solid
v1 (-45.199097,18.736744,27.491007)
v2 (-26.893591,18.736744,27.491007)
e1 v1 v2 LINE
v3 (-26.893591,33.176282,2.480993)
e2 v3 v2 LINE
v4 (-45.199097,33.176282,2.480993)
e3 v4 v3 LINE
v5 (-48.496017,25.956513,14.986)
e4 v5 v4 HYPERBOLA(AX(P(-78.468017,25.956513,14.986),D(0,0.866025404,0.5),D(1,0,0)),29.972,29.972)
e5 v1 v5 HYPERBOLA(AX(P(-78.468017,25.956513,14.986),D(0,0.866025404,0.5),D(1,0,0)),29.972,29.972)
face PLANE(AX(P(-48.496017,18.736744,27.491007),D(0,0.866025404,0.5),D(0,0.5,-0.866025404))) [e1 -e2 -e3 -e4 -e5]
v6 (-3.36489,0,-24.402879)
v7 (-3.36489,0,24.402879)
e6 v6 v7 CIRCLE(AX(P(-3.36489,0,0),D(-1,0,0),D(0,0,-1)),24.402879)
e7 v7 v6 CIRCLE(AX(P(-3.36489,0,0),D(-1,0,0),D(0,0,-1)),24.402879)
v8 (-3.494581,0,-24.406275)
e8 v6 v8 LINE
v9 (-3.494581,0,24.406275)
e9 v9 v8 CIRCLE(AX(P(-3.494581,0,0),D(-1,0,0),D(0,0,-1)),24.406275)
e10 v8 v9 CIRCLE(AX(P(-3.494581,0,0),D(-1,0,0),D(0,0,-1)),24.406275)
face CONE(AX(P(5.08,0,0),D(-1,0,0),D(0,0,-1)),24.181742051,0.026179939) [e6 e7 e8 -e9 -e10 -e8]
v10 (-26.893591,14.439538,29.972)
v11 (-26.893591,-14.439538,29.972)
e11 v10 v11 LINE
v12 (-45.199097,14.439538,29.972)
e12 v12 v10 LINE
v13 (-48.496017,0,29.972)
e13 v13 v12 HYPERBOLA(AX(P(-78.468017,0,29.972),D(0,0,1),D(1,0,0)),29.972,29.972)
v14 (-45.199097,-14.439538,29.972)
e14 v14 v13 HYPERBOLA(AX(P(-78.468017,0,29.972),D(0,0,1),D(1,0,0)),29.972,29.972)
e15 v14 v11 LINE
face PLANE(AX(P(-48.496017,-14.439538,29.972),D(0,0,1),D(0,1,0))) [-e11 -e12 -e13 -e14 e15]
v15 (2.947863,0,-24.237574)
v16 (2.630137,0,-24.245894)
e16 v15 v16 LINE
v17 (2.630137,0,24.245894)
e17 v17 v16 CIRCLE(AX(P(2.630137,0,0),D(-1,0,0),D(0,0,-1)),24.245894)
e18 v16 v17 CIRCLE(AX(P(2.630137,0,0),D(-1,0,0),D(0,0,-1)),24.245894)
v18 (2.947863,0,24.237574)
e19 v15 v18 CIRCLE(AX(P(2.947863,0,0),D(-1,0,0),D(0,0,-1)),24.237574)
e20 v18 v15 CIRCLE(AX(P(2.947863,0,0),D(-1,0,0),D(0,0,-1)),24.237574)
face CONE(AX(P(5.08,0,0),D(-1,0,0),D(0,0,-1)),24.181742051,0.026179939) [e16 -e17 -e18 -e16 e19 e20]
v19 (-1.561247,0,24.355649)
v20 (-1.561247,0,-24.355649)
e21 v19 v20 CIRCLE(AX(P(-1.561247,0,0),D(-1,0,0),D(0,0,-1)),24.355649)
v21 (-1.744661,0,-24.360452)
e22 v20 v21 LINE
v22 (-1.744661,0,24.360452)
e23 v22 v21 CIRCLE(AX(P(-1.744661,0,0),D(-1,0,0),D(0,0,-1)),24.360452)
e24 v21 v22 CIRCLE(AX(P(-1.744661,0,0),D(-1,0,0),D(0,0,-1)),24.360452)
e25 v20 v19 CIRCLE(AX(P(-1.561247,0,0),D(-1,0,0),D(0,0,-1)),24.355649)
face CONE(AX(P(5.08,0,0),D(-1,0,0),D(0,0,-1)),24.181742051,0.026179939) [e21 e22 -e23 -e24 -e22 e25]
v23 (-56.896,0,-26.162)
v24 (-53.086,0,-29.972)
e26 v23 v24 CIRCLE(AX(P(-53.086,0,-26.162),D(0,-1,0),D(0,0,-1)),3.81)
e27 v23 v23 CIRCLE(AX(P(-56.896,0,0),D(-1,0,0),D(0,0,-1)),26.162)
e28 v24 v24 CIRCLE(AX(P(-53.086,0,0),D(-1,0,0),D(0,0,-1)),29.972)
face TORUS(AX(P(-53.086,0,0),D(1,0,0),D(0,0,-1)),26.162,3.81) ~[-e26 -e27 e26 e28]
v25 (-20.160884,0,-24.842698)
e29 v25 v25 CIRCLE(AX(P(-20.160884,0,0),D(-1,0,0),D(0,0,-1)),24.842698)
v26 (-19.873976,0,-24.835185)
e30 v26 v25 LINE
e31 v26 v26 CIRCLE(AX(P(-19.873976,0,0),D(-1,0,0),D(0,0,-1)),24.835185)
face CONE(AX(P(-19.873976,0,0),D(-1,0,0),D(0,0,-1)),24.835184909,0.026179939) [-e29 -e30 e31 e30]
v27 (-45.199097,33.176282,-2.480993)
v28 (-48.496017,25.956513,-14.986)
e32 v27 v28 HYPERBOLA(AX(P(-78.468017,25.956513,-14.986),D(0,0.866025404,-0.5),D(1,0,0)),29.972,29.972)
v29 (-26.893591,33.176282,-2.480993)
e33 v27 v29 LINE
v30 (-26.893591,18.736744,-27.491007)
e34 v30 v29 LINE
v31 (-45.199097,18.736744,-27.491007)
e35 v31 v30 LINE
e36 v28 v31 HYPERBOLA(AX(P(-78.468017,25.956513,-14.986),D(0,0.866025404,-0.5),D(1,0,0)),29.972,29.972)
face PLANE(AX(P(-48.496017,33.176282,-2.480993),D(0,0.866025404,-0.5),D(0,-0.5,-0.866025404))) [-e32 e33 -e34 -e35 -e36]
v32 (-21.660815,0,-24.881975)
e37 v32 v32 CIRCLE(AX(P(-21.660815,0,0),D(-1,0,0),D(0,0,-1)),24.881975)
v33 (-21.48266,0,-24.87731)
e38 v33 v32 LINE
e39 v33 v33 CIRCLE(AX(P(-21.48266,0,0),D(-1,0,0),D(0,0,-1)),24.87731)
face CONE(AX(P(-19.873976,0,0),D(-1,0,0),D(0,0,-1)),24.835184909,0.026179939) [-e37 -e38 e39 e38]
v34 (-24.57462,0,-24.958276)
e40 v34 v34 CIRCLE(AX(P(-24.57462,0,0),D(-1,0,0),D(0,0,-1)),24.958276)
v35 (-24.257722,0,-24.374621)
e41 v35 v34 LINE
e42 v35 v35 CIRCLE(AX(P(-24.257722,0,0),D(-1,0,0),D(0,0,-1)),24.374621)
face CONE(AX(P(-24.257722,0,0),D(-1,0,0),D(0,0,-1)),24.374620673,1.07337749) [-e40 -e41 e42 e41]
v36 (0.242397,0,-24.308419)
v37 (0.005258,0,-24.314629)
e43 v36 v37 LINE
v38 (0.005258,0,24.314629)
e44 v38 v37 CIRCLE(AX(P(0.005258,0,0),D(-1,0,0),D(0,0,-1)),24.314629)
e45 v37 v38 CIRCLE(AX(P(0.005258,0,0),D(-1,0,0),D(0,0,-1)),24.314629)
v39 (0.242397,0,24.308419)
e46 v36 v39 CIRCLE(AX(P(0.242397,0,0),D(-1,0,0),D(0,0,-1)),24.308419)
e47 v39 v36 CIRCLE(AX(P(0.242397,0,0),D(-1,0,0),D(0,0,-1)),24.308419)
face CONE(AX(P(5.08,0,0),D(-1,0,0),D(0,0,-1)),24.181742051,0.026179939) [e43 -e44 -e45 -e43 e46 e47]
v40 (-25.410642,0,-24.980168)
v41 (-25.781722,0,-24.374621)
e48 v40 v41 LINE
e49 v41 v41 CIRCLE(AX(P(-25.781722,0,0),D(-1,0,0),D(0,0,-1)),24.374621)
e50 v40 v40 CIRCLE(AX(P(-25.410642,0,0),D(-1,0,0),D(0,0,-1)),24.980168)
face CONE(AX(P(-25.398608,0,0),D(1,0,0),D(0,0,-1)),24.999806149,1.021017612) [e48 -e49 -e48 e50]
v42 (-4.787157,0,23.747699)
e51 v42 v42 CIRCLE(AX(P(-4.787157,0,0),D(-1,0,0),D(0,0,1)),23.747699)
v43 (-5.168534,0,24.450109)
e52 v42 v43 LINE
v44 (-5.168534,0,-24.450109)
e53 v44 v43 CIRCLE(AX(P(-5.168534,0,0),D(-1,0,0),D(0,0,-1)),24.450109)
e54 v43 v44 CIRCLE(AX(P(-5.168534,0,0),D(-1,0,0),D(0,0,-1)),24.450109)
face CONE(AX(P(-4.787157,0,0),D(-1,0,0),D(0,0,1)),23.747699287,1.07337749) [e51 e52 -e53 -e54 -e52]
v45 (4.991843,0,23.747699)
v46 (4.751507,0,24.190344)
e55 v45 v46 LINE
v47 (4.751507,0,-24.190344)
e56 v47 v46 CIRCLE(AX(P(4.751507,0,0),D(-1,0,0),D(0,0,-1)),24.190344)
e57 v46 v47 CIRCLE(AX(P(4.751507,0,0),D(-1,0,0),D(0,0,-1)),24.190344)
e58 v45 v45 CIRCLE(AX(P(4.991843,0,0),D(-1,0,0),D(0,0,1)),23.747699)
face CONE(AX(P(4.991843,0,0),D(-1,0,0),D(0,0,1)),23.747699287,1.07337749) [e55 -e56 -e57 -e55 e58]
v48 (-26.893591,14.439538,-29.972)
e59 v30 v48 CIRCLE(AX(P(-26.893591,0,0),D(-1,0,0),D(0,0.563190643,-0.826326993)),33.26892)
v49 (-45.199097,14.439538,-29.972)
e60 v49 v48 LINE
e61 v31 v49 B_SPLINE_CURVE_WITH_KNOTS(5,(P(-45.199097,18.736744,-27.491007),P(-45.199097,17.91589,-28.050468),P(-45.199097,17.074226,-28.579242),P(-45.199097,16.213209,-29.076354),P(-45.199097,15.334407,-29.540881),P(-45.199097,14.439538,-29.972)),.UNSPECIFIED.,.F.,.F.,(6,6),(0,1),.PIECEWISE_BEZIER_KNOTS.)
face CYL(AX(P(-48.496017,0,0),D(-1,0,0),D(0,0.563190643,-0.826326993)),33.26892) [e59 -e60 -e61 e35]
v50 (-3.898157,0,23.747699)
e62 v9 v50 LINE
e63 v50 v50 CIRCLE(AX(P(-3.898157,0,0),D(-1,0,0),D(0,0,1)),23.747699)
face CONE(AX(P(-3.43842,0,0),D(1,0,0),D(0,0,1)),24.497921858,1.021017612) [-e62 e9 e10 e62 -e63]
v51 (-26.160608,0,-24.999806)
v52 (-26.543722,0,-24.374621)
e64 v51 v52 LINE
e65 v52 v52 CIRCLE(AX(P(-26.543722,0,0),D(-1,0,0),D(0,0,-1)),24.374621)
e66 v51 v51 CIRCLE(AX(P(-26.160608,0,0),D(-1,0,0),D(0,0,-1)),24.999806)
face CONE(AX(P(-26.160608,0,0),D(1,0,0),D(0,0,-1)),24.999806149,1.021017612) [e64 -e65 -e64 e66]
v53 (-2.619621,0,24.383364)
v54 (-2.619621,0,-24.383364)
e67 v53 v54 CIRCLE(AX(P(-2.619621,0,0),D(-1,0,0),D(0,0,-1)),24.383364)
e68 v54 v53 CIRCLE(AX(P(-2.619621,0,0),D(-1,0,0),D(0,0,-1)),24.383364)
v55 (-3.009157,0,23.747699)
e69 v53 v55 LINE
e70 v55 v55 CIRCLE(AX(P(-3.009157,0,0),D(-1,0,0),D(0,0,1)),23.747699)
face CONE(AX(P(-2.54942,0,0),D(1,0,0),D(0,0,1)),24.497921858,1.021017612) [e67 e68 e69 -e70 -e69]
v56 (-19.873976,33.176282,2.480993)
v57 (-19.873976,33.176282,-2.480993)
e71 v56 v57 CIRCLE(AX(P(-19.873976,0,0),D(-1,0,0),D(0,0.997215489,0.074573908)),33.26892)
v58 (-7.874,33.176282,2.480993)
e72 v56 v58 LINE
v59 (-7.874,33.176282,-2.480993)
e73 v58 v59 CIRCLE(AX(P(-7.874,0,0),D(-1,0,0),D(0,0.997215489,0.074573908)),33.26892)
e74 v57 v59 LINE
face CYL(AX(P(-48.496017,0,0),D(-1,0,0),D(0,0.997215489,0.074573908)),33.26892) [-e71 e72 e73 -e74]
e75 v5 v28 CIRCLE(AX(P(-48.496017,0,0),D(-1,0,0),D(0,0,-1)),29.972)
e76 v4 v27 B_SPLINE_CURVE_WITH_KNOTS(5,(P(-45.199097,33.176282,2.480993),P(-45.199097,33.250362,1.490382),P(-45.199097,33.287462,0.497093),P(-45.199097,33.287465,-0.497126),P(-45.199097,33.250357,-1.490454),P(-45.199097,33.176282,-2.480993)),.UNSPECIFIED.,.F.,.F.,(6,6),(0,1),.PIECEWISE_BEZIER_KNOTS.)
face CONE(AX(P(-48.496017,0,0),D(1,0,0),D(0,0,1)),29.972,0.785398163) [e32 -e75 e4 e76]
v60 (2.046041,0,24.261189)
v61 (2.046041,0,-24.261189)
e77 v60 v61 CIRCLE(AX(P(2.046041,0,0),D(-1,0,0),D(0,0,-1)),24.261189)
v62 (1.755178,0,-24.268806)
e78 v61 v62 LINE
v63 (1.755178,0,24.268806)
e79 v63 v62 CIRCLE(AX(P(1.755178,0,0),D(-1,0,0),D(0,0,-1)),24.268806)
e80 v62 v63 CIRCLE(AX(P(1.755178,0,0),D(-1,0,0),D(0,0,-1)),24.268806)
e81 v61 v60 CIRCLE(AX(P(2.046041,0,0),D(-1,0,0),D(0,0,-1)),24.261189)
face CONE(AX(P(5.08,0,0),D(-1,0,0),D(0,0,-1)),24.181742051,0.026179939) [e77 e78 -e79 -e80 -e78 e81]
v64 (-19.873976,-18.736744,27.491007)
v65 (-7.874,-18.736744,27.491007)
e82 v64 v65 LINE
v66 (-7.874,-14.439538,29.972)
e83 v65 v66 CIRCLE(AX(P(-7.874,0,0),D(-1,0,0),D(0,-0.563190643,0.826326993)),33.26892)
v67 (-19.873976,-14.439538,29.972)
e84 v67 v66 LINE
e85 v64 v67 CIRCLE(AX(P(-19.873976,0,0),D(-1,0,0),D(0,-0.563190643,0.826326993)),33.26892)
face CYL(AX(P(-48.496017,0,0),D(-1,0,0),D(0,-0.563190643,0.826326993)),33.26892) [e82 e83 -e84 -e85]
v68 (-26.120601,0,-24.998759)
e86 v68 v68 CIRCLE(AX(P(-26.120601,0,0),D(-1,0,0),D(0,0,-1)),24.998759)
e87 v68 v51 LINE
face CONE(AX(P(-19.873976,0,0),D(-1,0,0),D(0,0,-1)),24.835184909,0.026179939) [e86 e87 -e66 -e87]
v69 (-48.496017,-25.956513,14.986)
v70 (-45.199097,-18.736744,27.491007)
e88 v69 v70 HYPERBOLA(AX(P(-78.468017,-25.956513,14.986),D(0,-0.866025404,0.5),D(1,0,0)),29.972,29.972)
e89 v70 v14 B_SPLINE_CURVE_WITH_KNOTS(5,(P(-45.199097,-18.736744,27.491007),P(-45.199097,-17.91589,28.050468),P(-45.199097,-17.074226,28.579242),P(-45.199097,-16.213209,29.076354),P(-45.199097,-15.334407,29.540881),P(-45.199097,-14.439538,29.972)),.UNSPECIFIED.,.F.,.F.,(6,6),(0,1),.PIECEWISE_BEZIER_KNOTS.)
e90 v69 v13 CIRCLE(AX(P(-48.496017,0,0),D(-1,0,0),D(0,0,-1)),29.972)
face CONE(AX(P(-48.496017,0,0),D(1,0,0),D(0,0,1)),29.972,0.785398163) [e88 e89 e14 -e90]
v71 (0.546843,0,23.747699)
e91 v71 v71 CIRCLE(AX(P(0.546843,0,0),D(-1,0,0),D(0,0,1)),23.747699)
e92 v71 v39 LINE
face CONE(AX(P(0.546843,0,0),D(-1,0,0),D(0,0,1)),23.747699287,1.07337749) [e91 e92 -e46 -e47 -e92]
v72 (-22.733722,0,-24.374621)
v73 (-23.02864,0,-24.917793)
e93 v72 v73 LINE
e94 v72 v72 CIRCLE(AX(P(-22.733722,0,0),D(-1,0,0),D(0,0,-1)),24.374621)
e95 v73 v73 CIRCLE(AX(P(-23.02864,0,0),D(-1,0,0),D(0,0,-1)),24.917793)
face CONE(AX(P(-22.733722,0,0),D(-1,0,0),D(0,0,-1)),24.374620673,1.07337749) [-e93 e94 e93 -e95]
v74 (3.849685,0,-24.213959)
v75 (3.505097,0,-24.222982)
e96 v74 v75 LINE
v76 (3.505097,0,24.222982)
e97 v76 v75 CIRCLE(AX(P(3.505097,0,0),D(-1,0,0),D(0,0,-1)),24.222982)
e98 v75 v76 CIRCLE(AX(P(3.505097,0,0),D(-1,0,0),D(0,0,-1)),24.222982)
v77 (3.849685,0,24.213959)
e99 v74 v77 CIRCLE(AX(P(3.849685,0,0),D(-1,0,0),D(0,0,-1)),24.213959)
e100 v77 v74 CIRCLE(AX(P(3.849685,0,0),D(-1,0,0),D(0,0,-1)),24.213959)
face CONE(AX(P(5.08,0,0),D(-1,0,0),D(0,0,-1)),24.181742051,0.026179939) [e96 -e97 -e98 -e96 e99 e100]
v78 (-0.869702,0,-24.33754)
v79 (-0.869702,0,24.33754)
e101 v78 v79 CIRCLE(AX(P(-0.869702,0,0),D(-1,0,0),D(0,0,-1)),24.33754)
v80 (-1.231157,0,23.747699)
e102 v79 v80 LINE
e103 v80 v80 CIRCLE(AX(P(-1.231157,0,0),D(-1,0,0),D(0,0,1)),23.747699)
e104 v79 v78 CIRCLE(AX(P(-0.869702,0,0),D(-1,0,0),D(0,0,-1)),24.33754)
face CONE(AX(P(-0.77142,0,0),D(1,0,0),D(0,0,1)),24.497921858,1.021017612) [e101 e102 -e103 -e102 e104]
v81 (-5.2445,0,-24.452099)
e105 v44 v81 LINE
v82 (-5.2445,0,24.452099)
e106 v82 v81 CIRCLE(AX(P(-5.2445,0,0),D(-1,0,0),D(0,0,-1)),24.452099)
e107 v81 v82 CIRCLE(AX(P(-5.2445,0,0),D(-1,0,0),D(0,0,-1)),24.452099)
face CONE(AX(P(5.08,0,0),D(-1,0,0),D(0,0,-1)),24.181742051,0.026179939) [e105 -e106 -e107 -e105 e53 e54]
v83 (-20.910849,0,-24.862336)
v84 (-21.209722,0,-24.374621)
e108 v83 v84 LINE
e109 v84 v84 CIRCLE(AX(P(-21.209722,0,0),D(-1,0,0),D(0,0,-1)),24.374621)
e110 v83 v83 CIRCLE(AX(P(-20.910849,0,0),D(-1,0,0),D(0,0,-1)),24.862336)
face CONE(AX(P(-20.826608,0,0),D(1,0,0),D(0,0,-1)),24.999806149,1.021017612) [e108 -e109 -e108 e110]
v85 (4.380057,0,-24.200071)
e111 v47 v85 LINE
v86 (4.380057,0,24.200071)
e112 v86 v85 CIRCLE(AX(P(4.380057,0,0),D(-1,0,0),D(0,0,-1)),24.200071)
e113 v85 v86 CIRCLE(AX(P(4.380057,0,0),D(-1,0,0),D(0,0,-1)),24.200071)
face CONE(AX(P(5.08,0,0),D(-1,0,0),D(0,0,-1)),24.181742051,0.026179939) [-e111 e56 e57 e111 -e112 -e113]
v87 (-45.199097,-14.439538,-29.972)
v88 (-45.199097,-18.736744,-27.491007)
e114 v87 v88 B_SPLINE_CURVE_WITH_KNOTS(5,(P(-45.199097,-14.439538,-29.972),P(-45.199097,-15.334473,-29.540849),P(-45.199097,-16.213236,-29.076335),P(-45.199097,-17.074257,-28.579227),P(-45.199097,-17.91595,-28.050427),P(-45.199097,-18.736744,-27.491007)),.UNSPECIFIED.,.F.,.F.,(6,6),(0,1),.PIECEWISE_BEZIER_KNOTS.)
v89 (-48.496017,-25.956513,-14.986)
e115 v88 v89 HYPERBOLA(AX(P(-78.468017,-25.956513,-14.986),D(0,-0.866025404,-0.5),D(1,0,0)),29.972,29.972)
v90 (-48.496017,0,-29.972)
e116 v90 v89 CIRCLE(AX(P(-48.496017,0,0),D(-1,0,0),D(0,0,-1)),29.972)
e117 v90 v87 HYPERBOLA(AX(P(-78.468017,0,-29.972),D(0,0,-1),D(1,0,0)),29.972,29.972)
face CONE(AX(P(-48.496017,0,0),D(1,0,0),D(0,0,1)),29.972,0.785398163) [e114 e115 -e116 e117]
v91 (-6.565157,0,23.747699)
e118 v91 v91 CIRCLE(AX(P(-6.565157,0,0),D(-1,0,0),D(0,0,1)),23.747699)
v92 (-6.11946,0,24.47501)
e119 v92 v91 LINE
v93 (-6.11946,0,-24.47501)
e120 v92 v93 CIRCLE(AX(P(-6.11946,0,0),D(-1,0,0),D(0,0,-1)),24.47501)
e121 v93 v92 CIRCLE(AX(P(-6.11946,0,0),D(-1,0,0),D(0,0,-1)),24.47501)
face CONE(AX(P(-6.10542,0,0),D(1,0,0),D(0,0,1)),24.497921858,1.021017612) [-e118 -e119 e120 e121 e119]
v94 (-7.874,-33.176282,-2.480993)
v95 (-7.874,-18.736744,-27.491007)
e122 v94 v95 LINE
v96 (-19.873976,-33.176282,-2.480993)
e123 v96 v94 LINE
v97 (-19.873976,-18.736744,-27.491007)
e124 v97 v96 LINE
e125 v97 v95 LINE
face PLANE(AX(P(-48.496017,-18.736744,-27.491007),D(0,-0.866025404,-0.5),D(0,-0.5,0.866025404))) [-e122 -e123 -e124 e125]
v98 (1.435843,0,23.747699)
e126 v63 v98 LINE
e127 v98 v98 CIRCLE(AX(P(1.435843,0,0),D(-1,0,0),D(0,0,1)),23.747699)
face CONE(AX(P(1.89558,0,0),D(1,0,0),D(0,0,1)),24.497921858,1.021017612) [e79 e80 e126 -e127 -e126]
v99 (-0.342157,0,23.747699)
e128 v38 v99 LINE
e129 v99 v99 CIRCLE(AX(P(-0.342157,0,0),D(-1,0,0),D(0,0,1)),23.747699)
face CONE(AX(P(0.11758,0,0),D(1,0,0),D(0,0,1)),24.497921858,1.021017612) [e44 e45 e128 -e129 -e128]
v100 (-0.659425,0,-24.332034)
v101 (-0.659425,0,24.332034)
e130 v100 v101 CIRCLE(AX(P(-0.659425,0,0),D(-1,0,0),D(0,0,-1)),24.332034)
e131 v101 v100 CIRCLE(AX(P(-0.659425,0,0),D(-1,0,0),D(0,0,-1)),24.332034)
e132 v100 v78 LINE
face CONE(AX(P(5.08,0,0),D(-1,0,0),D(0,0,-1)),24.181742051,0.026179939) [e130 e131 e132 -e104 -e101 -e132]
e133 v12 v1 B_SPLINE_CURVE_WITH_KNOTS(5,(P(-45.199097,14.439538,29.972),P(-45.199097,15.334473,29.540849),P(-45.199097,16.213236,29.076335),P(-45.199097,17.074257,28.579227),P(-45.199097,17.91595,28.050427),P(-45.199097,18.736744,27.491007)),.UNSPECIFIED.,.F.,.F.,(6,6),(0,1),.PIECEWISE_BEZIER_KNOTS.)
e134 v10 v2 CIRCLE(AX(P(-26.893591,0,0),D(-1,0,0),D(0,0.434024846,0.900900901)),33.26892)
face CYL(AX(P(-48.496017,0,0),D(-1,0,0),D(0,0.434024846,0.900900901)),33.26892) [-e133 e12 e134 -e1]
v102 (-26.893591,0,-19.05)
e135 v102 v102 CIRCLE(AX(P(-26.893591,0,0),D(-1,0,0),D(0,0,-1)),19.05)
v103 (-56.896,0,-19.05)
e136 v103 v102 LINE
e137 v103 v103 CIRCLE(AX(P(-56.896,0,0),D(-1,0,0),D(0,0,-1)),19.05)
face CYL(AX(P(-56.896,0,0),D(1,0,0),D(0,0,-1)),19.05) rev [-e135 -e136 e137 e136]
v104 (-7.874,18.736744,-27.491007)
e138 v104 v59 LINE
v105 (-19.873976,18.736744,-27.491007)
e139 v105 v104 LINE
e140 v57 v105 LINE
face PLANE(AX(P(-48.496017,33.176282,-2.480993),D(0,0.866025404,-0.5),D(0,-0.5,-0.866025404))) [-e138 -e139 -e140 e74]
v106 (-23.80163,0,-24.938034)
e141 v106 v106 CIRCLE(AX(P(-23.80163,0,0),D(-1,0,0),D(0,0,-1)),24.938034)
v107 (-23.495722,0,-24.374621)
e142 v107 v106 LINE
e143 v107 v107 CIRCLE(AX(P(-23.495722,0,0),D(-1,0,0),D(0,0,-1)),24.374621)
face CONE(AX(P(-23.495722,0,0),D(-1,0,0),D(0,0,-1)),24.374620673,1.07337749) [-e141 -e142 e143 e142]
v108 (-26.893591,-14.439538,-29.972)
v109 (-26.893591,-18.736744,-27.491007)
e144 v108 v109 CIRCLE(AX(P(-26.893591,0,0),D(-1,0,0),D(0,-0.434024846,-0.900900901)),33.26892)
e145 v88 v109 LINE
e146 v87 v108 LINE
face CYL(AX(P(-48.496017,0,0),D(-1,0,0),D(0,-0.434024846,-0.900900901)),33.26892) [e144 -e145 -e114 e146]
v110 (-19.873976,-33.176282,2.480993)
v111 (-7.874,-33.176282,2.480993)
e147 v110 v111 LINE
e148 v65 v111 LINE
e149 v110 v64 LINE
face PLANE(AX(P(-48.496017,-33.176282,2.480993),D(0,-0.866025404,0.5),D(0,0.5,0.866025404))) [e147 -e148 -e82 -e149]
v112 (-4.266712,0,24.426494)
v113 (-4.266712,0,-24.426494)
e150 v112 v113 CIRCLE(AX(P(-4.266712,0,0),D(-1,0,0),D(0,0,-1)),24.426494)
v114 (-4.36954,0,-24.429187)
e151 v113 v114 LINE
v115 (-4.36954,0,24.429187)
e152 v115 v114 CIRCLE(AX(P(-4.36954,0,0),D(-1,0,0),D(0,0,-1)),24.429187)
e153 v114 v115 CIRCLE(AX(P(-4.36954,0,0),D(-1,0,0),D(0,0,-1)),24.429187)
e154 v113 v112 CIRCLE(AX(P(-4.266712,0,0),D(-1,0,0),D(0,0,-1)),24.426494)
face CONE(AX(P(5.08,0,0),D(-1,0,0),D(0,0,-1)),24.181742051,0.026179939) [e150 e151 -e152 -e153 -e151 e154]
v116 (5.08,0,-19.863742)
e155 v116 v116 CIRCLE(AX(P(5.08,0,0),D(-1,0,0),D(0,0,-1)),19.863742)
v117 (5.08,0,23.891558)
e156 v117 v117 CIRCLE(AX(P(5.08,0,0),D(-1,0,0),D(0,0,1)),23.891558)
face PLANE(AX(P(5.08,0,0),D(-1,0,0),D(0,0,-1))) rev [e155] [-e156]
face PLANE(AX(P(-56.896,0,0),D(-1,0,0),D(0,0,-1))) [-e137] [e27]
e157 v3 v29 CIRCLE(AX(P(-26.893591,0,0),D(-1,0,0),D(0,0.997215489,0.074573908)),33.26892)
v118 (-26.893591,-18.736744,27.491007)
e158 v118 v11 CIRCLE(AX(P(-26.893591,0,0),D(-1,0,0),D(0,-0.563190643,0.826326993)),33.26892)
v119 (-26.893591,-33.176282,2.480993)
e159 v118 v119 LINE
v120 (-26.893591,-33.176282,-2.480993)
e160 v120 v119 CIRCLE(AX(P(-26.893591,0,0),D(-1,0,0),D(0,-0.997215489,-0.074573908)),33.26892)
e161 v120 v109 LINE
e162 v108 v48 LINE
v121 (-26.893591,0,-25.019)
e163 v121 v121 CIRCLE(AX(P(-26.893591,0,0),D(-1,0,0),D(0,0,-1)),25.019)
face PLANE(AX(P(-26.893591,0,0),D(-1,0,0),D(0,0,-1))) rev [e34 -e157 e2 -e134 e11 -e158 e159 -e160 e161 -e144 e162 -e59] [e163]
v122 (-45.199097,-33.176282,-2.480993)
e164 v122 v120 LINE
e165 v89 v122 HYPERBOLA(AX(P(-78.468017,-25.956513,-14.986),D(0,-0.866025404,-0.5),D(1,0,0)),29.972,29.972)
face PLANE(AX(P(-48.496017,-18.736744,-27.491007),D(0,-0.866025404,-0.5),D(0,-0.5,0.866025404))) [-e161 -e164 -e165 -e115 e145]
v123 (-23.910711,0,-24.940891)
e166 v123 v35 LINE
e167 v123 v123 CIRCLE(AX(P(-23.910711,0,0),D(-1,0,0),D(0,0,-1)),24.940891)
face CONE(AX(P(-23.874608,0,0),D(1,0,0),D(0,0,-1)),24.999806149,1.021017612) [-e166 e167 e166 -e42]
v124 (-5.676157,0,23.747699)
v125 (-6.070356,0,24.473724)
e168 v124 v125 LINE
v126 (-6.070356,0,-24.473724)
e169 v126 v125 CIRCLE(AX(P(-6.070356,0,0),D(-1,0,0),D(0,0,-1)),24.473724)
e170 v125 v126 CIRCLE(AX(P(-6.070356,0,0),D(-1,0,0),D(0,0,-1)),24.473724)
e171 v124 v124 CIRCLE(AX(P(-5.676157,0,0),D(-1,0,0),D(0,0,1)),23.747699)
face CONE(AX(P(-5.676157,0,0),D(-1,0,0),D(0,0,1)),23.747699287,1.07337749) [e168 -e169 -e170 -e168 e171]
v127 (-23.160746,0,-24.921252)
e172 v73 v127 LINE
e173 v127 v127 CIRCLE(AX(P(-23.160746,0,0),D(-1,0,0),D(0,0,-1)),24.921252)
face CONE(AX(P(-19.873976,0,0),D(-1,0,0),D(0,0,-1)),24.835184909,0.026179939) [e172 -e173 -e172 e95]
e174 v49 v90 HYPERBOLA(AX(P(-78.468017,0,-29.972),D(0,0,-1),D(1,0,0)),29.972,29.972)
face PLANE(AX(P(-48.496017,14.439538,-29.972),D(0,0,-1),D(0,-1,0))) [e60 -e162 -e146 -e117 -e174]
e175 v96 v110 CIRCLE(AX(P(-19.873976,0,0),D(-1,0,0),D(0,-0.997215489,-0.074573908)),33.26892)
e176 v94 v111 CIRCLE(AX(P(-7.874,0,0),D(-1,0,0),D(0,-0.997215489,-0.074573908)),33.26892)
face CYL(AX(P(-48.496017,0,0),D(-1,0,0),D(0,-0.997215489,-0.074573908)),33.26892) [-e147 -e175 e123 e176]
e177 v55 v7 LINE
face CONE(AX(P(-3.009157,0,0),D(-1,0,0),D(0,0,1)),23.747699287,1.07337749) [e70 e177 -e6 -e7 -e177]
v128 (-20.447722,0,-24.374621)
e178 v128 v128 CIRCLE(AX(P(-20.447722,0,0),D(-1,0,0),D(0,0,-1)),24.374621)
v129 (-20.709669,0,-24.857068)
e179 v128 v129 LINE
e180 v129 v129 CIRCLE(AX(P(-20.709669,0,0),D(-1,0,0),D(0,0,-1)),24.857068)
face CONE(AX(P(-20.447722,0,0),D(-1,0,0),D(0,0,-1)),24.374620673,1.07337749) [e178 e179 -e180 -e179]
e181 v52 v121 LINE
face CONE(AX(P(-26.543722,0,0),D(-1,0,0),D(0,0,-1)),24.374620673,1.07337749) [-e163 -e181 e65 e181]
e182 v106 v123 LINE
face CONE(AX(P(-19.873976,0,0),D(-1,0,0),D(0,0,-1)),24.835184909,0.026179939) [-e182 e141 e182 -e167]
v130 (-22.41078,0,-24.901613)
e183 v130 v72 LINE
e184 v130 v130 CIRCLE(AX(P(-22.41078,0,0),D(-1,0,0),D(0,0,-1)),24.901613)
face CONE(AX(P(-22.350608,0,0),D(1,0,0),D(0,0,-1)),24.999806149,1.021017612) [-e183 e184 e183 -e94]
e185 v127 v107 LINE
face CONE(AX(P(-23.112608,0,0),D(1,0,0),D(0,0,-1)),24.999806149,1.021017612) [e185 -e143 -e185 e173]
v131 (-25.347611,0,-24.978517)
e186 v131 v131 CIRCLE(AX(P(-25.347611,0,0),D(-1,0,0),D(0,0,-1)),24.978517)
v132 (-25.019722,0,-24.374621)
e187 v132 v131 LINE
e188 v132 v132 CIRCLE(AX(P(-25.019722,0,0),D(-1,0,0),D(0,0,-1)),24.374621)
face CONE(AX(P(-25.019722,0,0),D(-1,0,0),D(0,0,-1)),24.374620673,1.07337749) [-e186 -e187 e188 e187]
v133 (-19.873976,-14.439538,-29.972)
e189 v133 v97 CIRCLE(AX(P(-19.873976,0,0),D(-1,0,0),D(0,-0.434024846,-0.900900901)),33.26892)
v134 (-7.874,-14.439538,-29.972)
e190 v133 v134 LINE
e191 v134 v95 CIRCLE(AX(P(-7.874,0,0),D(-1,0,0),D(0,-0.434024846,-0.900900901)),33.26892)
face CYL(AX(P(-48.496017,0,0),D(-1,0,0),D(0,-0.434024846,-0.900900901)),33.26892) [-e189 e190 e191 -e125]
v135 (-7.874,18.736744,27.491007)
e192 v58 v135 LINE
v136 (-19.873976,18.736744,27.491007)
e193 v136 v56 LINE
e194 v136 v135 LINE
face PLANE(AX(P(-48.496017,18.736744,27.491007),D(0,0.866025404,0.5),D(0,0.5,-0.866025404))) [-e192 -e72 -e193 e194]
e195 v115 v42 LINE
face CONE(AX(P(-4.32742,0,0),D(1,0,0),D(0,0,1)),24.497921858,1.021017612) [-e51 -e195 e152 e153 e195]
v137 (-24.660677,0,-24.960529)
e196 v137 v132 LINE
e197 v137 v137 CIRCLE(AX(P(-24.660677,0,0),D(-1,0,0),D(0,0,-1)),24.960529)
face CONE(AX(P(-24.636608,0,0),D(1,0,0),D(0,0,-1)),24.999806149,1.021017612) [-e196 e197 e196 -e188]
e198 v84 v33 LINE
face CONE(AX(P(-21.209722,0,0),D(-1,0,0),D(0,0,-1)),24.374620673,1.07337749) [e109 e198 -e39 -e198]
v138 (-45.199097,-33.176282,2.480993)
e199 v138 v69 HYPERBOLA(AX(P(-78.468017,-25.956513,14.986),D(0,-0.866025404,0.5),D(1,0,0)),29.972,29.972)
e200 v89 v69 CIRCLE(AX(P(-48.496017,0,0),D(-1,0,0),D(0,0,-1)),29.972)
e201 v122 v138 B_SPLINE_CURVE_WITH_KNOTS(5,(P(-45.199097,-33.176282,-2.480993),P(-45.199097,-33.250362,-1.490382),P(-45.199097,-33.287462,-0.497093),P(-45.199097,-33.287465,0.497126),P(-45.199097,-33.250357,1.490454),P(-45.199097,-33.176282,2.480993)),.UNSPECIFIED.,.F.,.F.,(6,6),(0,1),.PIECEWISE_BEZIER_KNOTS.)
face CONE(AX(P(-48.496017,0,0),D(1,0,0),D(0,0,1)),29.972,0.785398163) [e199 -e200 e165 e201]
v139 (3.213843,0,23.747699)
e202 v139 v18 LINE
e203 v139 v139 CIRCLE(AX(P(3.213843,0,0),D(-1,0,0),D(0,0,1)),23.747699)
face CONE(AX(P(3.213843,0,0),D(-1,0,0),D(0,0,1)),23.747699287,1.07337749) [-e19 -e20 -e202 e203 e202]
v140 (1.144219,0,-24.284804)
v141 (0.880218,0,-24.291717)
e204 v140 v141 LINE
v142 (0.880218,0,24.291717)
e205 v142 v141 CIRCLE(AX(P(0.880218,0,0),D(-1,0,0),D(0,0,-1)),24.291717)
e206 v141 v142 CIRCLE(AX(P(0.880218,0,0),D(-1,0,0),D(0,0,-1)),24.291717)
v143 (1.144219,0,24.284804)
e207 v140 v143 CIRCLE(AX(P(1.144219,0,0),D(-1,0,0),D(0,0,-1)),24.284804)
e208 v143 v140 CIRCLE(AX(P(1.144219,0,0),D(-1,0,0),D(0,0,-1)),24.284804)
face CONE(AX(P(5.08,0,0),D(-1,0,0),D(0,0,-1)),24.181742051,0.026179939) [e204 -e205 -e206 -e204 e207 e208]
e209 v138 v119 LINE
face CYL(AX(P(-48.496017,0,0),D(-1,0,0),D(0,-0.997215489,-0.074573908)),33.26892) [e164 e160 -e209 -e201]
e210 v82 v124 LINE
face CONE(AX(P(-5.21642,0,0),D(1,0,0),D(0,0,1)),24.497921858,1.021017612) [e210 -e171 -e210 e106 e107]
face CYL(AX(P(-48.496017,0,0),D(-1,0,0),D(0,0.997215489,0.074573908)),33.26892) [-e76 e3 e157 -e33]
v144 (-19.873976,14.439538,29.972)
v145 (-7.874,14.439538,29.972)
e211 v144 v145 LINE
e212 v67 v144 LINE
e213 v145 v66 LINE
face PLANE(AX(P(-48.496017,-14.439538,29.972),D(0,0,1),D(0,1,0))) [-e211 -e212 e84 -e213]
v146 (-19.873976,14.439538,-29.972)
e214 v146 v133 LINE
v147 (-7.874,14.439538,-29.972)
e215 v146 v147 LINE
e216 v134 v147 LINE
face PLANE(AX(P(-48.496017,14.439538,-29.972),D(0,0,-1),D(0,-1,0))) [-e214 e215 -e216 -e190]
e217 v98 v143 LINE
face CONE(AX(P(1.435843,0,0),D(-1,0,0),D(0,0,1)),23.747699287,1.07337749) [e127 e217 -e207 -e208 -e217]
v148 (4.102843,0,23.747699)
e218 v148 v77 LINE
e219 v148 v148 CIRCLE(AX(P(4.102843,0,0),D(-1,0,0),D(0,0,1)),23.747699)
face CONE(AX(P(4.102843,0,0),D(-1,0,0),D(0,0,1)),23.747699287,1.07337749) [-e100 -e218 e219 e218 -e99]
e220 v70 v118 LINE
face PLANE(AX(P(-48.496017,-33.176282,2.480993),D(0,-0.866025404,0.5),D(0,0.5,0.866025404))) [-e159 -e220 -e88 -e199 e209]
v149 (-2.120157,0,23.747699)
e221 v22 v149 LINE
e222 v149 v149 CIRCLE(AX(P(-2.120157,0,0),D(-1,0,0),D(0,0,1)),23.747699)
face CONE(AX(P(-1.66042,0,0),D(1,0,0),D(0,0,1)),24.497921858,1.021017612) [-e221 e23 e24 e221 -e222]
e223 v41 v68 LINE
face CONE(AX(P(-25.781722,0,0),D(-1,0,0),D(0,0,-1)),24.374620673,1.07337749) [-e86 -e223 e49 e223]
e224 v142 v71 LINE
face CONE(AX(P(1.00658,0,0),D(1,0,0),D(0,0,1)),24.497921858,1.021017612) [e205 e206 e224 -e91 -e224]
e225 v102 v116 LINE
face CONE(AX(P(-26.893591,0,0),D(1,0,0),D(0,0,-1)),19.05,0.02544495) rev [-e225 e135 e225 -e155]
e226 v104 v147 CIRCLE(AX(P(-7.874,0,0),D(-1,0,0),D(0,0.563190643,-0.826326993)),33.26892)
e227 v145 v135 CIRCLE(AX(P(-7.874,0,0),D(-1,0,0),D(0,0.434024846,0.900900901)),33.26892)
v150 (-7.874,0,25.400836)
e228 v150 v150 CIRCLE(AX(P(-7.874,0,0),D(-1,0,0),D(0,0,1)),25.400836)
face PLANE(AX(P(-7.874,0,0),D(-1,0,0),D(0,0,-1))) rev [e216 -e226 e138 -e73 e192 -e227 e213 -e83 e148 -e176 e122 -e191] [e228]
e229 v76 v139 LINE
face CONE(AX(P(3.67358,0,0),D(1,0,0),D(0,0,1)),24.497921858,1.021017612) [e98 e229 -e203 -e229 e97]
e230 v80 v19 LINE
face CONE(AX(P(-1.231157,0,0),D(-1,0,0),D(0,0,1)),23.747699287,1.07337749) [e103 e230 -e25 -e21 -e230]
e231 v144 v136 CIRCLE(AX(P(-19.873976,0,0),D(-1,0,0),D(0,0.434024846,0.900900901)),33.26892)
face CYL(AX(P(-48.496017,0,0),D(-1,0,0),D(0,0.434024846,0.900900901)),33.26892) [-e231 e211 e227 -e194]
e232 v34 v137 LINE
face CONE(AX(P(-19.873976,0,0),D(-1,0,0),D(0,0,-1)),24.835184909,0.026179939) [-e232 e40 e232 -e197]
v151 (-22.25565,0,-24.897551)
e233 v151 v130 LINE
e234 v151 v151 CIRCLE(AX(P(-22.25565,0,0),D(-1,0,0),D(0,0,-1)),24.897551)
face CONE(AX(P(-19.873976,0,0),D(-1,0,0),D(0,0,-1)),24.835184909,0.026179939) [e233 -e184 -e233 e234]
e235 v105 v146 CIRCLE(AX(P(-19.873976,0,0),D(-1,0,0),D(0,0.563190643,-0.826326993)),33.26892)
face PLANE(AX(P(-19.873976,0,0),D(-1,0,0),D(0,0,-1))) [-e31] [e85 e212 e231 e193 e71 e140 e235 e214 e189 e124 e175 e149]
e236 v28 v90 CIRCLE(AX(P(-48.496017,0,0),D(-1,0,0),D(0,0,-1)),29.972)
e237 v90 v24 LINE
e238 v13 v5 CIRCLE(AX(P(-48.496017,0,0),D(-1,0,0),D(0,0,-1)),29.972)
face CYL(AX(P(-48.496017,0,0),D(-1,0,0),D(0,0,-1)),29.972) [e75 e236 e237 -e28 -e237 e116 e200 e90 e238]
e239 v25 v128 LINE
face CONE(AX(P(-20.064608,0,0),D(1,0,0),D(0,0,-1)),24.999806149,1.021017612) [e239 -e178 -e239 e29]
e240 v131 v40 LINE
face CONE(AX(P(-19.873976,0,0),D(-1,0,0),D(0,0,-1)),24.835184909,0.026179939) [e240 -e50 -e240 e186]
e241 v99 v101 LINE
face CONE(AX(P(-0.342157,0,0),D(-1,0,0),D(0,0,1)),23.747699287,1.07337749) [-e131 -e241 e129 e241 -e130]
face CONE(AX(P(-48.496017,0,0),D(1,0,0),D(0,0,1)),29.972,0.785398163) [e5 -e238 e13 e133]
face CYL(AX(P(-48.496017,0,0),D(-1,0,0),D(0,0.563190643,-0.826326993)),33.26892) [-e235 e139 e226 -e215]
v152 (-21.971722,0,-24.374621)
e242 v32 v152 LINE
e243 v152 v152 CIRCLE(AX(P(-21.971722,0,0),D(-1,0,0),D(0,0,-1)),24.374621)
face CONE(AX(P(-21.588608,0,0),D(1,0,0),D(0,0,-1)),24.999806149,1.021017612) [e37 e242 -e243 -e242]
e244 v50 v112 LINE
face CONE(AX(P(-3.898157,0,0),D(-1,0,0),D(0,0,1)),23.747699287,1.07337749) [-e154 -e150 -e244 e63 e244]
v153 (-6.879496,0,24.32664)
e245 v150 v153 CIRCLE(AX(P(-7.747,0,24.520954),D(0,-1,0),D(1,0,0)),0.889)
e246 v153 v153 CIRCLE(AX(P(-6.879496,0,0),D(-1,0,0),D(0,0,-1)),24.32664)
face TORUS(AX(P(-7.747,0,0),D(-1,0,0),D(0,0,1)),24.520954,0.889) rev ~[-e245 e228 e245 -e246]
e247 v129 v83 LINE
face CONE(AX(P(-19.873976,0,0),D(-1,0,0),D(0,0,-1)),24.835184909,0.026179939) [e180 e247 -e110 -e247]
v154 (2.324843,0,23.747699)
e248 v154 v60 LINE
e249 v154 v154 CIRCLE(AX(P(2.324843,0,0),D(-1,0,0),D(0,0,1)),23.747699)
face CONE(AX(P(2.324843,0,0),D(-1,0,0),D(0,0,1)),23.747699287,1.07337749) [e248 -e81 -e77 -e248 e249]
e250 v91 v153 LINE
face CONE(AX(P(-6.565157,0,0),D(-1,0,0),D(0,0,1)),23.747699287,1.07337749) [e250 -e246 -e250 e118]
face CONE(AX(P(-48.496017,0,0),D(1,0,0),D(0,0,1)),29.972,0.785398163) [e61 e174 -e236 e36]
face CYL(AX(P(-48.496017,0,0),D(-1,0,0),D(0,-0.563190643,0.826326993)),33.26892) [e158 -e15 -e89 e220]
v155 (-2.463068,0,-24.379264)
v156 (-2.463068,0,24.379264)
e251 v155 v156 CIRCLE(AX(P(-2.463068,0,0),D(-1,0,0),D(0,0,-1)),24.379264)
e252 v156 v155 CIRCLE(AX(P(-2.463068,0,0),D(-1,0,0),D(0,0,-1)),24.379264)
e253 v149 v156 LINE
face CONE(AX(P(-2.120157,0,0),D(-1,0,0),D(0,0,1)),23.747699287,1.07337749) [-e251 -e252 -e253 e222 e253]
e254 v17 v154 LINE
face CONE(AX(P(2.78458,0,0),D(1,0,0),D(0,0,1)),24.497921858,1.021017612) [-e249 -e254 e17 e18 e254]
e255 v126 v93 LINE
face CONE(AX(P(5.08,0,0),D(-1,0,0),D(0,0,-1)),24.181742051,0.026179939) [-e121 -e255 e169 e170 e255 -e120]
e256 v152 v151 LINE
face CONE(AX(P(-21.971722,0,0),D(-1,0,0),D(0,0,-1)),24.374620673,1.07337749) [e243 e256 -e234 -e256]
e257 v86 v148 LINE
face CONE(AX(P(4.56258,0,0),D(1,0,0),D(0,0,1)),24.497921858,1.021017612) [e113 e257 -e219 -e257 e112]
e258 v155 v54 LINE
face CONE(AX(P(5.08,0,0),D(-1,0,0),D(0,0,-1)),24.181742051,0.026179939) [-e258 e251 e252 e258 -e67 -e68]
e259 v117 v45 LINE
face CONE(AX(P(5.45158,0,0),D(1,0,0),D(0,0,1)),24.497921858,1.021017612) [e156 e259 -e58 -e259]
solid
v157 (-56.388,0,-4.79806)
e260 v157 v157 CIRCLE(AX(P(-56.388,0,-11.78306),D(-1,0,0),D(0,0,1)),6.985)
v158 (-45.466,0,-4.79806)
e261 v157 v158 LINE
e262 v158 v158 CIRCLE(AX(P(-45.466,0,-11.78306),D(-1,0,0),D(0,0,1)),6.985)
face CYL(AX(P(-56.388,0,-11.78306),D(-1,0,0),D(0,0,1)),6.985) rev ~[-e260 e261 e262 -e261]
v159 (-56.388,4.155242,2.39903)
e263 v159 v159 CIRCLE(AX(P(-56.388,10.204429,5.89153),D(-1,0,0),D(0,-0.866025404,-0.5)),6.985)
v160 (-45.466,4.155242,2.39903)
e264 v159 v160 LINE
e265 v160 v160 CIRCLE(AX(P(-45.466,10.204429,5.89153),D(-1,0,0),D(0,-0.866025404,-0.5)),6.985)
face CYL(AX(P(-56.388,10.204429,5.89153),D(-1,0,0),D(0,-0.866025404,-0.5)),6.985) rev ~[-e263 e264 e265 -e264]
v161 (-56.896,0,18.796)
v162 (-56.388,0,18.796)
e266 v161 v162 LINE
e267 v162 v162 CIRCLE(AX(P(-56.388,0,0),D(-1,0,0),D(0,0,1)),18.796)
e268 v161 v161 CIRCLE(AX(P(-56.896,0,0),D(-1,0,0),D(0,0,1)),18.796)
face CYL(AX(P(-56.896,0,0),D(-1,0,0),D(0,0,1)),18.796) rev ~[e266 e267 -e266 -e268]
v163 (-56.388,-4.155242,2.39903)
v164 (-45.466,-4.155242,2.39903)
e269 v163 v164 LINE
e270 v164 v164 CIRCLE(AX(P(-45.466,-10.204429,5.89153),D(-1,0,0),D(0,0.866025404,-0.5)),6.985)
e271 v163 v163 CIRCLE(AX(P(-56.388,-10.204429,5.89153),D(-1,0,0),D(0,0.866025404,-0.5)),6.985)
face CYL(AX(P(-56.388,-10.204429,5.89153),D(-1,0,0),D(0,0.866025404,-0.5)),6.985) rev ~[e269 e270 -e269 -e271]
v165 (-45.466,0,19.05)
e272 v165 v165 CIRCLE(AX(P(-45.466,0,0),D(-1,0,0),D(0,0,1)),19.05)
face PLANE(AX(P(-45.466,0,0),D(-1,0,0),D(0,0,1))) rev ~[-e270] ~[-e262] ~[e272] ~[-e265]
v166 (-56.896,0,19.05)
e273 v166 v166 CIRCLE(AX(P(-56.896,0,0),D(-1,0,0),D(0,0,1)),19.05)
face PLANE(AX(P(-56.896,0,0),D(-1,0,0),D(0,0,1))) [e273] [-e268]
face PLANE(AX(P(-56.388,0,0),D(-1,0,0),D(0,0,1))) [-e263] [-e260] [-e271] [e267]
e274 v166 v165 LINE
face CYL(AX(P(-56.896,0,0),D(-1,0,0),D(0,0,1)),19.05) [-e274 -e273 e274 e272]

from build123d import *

# Parameters (mm, degrees)
SKETCH12_OUTSIDE_W = 157.992
SKETCH12_OUTSIDE_H = 157.992
CUT_EXTRUDE2_DEPTH = 54.5760168
FILLET4_R          = 3.81
SKETCH19_OUTSIDE_W = 91.722
SKETCH19_OUTSIDE_H = 98.316
SKETCH19_OUTSIDE_R = 29.972
CUT_EXTRUDE3_DEPTH = 3.99796
CUT_EXTRUDE3_DRAFT = -45
CHAMFER1_SIZE      = 0.260919487
CHAMFER1_SIZE2     = 0.254
SKETCH21_R         = 19.05
PLUG_DEPTH         = 11.43
SKETCH22_R         = 18.796
CUT_EXTRUDE4_DEPTH = 0.508
SKETCH27_R         = 6.985
PLUGHOLES_DEPTH    = 62.468
CIRPATTERN1_COUNT  = 3
LPATTERN1_COUNT    = 9
LPATTERN1_PITCH    = 0.762
LPATTERN2_COUNT    = 15
LPATTERN2_PITCH    = 0.889
SKETCH32_R         = 0.889


with BuildPart() as part:
    # Sketch10 → Revolve2 (revolve)
    with BuildSketch(Plane.XY, mode=Mode.PRIVATE) as revolve2_sk:
        Polygon((-56.896, 19.05), (-26.89359112, 19.05), (5.08, 19.863742051), (5.08, 24.181742051), (-7.874, 24.520954479), (-7.874, 59.944), (-19.873976, 59.944), (-19.873976, 24.835184909), (-26.89359112, 25.019), (-26.89359112, 59.944), (-48.4960168, 59.944), (-48.4960168, 29.972), (-56.896, 29.972), align=None)
    revolve(revolve2_sk.sketch.rotate(Axis((0, 0, 0), (-1, 0, 0)), 90), axis=Axis((0, 0, 0), (-1, 0, 0)))  # turned: the seam where the file's is

    # Sketch12 outside → Cut-Extrude2 (cut, through all)
    with BuildSketch(Plane.ZY.offset(48.4960168)):
        Rectangle(SKETCH12_OUTSIDE_W, SKETCH12_OUTSIDE_H)
        with BuildLine():
            Line((-2.480993384, 33.176282338), (-27.491006616, 18.736744466))
            ThreePointArc((-27.491006616, 18.736744466), (-28.811729876, 16.63446), (-29.972, 14.439537872))
            Line((-29.972, 14.439537872), (-29.972, -14.439537872))
            ThreePointArc((-29.972, -14.439537872), (-28.811729876, -16.63446), (-27.491006616, -18.736744466))
            Line((-27.491006616, -18.736744466), (-2.480993384, -33.176282338))
            ThreePointArc((-2.480993384, -33.176282338), (0, -33.26892), (2.480993384, -33.176282338))
            Line((2.480993384, -33.176282338), (27.491006616, -18.736744466))
            ThreePointArc((27.491006616, -18.736744466), (28.811729876, -16.63446), (29.972, -14.439537872))
            Line((29.972, -14.439537872), (29.972, 14.439537872))
            ThreePointArc((29.972, 14.439537872), (28.811729876, 16.63446), (27.491006616, 18.736744466))
            Line((27.491006616, 18.736744466), (2.480993384, 33.176282338))
            ThreePointArc((2.480993384, 33.176282338), (0, 33.26892), (-2.480993384, 33.176282338))
        make_face(mode=Mode.SUBTRACT)
    extrude(amount=-CUT_EXTRUDE2_DEPTH, mode=Mode.SUBTRACT)

    # Fillet4
    fillet4_edges = [part.edges().sort_by_distance(p)[0] for p in [
        (-56.896, 0, 29.972),
    ]]
    fillet(fillet4_edges, radius=FILLET4_R)


with BuildPart() as cut_extrude3_tool:
    # Sketch19 outside → Cut-Extrude3 (with draft: the straight prism first)
    with BuildSketch(Plane.ZY.offset(48.4960168)):
        Rectangle(SKETCH19_OUTSIDE_W, SKETCH19_OUTSIDE_H)
        Circle(SKETCH19_OUTSIDE_R, mode=Mode.SUBTRACT)
    extrude(amount=-CUT_EXTRUDE3_DEPTH)
    # Cut-Extrude3: the draft: its side faces are tilted about the plane it starts from
    cut_extrude3_sides = [cut_extrude3_tool.faces().sort_by_distance(p)[0] for p in [
        (-46.4970368, -49.158, 0),
        (-46.4970368, 0, 45.861),
        (-46.4970368, 49.158, 0),
        (-46.4970368, 0, -45.861),
        (-46.4970368, 0, -29.972),
    ]]
    draft(cut_extrude3_sides, Plane.ZY.offset(48.4960168), CUT_EXTRUDE3_DRAFT)


with BuildPart() as part_1:
    add(part.part)

    # Cut-Extrude3: cut by cut_extrude3_tool
    add(cut_extrude3_tool.part, mode=Mode.SUBTRACT)

    # Chamfer1
    chamfer1_edges = [part_1.edges().sort_by_distance(p)[0] for p in [
        (5.08, 0, 24.181742051),
    ]]
    chamfer1_side = [part_1.faces().sort_by_distance(p)[0] for p in [
        (5.08, 0, 20.547705002),
    ]]
    chamfer(chamfer1_edges, length=CHAMFER1_SIZE, length2=CHAMFER1_SIZE2, reference=chamfer1_side[0])

    # Sketch29 → Cut-Revolve1 (revolve, cut)
    with BuildSketch(Plane.XY, mode=Mode.PRIVATE) as cut_revolve1_sk:
        Polygon((-26.89359112, 25.019), (-26.160607539, 24.999806149), (-26.543721692, 24.374620673), align=None)
    cut_revolve1 = revolve(cut_revolve1_sk.sketch.rotate(Axis((0, 0, 0), (-1, 0, 0)), 90), axis=Axis((0, 0, 0), (-1, 0, 0)), mode=Mode.SUBTRACT)  # turned: the seam where the file's is

    # LPattern1: Cut-Revolve1 ×9
    with Locations(*[(i * LPATTERN1_PITCH, 0, 0) for i in range(1, LPATTERN1_COUNT)]):
        add(cut_revolve1, mode=Mode.SUBTRACT)

    # Sketch30 → Cut-Revolve2 (revolve, cut)
    with BuildSketch(Plane.XY, mode=Mode.PRIVATE) as cut_revolve2_sk:
        Polygon((-7.874, 24.520954479), (-6.994419703, 24.497921858), (-7.454156686, 23.747699287), align=None)
    cut_revolve2 = revolve(cut_revolve2_sk.sketch.rotate(Axis((0, 0, 0), (-1, 0, 0)), 270), axis=Axis((0, 0, 0), (-1, 0, 0)), mode=Mode.SUBTRACT)  # turned: the seam where the file's is

    # LPattern2: Cut-Revolve2 ×15
    with Locations(*[(i * LPATTERN2_PITCH, 0, 0) for i in range(1, LPATTERN2_COUNT)]):
        add(cut_revolve2, mode=Mode.SUBTRACT)

    # Sketch32 → Cut-Revolve3 (revolve, cut)
    with BuildSketch(Plane.XY, mode=Mode.PRIVATE) as cut_revolve3_sk:
        with Locations((-7.747, 24.520954479)):
            Circle(SKETCH32_R)
    revolve(cut_revolve3_sk.sketch.rotate(Axis((0, 0, 0), (-1, 0, 0)), 270), axis=Axis((0, 0, 0), (-1, 0, 0)), mode=Mode.SUBTRACT)  # turned: the seam where the file's is


with BuildPart() as body_2:
    # Sketch21 → plug (new body)
    with BuildSketch(Plane.ZY.offset(56.896)):
        Circle(SKETCH21_R)
    extrude(amount=-PLUG_DEPTH)

    # Sketch22 → Cut-Extrude4 (cut)
    with BuildSketch(Plane.ZY.offset(56.896)):
        Circle(SKETCH22_R)
    extrude(amount=-CUT_EXTRUDE4_DEPTH, mode=Mode.SUBTRACT)

    # Sketch27 → plugholes (cut, through all)
    with BuildSketch(Plane.ZY.offset(56.388)):
        with Locations((-11.78306, 0)):
            Circle(SKETCH27_R)
    plugholes = extrude(amount=-PLUGHOLES_DEPTH, mode=Mode.SUBTRACT)

    # CirPattern1: plugholes ×3 about axis
    cirpattern1_axis = Axis((0, 0, 0), (1, 0, 0))
    for i in range(1, CIRPATTERN1_COUNT):
        add(plugholes.rotate(cirpattern1_axis, i * 360 / CIRPATTERN1_COUNT), mode=Mode.SUBTRACT)


solid = Compound([part_1.part, body_2.part])
